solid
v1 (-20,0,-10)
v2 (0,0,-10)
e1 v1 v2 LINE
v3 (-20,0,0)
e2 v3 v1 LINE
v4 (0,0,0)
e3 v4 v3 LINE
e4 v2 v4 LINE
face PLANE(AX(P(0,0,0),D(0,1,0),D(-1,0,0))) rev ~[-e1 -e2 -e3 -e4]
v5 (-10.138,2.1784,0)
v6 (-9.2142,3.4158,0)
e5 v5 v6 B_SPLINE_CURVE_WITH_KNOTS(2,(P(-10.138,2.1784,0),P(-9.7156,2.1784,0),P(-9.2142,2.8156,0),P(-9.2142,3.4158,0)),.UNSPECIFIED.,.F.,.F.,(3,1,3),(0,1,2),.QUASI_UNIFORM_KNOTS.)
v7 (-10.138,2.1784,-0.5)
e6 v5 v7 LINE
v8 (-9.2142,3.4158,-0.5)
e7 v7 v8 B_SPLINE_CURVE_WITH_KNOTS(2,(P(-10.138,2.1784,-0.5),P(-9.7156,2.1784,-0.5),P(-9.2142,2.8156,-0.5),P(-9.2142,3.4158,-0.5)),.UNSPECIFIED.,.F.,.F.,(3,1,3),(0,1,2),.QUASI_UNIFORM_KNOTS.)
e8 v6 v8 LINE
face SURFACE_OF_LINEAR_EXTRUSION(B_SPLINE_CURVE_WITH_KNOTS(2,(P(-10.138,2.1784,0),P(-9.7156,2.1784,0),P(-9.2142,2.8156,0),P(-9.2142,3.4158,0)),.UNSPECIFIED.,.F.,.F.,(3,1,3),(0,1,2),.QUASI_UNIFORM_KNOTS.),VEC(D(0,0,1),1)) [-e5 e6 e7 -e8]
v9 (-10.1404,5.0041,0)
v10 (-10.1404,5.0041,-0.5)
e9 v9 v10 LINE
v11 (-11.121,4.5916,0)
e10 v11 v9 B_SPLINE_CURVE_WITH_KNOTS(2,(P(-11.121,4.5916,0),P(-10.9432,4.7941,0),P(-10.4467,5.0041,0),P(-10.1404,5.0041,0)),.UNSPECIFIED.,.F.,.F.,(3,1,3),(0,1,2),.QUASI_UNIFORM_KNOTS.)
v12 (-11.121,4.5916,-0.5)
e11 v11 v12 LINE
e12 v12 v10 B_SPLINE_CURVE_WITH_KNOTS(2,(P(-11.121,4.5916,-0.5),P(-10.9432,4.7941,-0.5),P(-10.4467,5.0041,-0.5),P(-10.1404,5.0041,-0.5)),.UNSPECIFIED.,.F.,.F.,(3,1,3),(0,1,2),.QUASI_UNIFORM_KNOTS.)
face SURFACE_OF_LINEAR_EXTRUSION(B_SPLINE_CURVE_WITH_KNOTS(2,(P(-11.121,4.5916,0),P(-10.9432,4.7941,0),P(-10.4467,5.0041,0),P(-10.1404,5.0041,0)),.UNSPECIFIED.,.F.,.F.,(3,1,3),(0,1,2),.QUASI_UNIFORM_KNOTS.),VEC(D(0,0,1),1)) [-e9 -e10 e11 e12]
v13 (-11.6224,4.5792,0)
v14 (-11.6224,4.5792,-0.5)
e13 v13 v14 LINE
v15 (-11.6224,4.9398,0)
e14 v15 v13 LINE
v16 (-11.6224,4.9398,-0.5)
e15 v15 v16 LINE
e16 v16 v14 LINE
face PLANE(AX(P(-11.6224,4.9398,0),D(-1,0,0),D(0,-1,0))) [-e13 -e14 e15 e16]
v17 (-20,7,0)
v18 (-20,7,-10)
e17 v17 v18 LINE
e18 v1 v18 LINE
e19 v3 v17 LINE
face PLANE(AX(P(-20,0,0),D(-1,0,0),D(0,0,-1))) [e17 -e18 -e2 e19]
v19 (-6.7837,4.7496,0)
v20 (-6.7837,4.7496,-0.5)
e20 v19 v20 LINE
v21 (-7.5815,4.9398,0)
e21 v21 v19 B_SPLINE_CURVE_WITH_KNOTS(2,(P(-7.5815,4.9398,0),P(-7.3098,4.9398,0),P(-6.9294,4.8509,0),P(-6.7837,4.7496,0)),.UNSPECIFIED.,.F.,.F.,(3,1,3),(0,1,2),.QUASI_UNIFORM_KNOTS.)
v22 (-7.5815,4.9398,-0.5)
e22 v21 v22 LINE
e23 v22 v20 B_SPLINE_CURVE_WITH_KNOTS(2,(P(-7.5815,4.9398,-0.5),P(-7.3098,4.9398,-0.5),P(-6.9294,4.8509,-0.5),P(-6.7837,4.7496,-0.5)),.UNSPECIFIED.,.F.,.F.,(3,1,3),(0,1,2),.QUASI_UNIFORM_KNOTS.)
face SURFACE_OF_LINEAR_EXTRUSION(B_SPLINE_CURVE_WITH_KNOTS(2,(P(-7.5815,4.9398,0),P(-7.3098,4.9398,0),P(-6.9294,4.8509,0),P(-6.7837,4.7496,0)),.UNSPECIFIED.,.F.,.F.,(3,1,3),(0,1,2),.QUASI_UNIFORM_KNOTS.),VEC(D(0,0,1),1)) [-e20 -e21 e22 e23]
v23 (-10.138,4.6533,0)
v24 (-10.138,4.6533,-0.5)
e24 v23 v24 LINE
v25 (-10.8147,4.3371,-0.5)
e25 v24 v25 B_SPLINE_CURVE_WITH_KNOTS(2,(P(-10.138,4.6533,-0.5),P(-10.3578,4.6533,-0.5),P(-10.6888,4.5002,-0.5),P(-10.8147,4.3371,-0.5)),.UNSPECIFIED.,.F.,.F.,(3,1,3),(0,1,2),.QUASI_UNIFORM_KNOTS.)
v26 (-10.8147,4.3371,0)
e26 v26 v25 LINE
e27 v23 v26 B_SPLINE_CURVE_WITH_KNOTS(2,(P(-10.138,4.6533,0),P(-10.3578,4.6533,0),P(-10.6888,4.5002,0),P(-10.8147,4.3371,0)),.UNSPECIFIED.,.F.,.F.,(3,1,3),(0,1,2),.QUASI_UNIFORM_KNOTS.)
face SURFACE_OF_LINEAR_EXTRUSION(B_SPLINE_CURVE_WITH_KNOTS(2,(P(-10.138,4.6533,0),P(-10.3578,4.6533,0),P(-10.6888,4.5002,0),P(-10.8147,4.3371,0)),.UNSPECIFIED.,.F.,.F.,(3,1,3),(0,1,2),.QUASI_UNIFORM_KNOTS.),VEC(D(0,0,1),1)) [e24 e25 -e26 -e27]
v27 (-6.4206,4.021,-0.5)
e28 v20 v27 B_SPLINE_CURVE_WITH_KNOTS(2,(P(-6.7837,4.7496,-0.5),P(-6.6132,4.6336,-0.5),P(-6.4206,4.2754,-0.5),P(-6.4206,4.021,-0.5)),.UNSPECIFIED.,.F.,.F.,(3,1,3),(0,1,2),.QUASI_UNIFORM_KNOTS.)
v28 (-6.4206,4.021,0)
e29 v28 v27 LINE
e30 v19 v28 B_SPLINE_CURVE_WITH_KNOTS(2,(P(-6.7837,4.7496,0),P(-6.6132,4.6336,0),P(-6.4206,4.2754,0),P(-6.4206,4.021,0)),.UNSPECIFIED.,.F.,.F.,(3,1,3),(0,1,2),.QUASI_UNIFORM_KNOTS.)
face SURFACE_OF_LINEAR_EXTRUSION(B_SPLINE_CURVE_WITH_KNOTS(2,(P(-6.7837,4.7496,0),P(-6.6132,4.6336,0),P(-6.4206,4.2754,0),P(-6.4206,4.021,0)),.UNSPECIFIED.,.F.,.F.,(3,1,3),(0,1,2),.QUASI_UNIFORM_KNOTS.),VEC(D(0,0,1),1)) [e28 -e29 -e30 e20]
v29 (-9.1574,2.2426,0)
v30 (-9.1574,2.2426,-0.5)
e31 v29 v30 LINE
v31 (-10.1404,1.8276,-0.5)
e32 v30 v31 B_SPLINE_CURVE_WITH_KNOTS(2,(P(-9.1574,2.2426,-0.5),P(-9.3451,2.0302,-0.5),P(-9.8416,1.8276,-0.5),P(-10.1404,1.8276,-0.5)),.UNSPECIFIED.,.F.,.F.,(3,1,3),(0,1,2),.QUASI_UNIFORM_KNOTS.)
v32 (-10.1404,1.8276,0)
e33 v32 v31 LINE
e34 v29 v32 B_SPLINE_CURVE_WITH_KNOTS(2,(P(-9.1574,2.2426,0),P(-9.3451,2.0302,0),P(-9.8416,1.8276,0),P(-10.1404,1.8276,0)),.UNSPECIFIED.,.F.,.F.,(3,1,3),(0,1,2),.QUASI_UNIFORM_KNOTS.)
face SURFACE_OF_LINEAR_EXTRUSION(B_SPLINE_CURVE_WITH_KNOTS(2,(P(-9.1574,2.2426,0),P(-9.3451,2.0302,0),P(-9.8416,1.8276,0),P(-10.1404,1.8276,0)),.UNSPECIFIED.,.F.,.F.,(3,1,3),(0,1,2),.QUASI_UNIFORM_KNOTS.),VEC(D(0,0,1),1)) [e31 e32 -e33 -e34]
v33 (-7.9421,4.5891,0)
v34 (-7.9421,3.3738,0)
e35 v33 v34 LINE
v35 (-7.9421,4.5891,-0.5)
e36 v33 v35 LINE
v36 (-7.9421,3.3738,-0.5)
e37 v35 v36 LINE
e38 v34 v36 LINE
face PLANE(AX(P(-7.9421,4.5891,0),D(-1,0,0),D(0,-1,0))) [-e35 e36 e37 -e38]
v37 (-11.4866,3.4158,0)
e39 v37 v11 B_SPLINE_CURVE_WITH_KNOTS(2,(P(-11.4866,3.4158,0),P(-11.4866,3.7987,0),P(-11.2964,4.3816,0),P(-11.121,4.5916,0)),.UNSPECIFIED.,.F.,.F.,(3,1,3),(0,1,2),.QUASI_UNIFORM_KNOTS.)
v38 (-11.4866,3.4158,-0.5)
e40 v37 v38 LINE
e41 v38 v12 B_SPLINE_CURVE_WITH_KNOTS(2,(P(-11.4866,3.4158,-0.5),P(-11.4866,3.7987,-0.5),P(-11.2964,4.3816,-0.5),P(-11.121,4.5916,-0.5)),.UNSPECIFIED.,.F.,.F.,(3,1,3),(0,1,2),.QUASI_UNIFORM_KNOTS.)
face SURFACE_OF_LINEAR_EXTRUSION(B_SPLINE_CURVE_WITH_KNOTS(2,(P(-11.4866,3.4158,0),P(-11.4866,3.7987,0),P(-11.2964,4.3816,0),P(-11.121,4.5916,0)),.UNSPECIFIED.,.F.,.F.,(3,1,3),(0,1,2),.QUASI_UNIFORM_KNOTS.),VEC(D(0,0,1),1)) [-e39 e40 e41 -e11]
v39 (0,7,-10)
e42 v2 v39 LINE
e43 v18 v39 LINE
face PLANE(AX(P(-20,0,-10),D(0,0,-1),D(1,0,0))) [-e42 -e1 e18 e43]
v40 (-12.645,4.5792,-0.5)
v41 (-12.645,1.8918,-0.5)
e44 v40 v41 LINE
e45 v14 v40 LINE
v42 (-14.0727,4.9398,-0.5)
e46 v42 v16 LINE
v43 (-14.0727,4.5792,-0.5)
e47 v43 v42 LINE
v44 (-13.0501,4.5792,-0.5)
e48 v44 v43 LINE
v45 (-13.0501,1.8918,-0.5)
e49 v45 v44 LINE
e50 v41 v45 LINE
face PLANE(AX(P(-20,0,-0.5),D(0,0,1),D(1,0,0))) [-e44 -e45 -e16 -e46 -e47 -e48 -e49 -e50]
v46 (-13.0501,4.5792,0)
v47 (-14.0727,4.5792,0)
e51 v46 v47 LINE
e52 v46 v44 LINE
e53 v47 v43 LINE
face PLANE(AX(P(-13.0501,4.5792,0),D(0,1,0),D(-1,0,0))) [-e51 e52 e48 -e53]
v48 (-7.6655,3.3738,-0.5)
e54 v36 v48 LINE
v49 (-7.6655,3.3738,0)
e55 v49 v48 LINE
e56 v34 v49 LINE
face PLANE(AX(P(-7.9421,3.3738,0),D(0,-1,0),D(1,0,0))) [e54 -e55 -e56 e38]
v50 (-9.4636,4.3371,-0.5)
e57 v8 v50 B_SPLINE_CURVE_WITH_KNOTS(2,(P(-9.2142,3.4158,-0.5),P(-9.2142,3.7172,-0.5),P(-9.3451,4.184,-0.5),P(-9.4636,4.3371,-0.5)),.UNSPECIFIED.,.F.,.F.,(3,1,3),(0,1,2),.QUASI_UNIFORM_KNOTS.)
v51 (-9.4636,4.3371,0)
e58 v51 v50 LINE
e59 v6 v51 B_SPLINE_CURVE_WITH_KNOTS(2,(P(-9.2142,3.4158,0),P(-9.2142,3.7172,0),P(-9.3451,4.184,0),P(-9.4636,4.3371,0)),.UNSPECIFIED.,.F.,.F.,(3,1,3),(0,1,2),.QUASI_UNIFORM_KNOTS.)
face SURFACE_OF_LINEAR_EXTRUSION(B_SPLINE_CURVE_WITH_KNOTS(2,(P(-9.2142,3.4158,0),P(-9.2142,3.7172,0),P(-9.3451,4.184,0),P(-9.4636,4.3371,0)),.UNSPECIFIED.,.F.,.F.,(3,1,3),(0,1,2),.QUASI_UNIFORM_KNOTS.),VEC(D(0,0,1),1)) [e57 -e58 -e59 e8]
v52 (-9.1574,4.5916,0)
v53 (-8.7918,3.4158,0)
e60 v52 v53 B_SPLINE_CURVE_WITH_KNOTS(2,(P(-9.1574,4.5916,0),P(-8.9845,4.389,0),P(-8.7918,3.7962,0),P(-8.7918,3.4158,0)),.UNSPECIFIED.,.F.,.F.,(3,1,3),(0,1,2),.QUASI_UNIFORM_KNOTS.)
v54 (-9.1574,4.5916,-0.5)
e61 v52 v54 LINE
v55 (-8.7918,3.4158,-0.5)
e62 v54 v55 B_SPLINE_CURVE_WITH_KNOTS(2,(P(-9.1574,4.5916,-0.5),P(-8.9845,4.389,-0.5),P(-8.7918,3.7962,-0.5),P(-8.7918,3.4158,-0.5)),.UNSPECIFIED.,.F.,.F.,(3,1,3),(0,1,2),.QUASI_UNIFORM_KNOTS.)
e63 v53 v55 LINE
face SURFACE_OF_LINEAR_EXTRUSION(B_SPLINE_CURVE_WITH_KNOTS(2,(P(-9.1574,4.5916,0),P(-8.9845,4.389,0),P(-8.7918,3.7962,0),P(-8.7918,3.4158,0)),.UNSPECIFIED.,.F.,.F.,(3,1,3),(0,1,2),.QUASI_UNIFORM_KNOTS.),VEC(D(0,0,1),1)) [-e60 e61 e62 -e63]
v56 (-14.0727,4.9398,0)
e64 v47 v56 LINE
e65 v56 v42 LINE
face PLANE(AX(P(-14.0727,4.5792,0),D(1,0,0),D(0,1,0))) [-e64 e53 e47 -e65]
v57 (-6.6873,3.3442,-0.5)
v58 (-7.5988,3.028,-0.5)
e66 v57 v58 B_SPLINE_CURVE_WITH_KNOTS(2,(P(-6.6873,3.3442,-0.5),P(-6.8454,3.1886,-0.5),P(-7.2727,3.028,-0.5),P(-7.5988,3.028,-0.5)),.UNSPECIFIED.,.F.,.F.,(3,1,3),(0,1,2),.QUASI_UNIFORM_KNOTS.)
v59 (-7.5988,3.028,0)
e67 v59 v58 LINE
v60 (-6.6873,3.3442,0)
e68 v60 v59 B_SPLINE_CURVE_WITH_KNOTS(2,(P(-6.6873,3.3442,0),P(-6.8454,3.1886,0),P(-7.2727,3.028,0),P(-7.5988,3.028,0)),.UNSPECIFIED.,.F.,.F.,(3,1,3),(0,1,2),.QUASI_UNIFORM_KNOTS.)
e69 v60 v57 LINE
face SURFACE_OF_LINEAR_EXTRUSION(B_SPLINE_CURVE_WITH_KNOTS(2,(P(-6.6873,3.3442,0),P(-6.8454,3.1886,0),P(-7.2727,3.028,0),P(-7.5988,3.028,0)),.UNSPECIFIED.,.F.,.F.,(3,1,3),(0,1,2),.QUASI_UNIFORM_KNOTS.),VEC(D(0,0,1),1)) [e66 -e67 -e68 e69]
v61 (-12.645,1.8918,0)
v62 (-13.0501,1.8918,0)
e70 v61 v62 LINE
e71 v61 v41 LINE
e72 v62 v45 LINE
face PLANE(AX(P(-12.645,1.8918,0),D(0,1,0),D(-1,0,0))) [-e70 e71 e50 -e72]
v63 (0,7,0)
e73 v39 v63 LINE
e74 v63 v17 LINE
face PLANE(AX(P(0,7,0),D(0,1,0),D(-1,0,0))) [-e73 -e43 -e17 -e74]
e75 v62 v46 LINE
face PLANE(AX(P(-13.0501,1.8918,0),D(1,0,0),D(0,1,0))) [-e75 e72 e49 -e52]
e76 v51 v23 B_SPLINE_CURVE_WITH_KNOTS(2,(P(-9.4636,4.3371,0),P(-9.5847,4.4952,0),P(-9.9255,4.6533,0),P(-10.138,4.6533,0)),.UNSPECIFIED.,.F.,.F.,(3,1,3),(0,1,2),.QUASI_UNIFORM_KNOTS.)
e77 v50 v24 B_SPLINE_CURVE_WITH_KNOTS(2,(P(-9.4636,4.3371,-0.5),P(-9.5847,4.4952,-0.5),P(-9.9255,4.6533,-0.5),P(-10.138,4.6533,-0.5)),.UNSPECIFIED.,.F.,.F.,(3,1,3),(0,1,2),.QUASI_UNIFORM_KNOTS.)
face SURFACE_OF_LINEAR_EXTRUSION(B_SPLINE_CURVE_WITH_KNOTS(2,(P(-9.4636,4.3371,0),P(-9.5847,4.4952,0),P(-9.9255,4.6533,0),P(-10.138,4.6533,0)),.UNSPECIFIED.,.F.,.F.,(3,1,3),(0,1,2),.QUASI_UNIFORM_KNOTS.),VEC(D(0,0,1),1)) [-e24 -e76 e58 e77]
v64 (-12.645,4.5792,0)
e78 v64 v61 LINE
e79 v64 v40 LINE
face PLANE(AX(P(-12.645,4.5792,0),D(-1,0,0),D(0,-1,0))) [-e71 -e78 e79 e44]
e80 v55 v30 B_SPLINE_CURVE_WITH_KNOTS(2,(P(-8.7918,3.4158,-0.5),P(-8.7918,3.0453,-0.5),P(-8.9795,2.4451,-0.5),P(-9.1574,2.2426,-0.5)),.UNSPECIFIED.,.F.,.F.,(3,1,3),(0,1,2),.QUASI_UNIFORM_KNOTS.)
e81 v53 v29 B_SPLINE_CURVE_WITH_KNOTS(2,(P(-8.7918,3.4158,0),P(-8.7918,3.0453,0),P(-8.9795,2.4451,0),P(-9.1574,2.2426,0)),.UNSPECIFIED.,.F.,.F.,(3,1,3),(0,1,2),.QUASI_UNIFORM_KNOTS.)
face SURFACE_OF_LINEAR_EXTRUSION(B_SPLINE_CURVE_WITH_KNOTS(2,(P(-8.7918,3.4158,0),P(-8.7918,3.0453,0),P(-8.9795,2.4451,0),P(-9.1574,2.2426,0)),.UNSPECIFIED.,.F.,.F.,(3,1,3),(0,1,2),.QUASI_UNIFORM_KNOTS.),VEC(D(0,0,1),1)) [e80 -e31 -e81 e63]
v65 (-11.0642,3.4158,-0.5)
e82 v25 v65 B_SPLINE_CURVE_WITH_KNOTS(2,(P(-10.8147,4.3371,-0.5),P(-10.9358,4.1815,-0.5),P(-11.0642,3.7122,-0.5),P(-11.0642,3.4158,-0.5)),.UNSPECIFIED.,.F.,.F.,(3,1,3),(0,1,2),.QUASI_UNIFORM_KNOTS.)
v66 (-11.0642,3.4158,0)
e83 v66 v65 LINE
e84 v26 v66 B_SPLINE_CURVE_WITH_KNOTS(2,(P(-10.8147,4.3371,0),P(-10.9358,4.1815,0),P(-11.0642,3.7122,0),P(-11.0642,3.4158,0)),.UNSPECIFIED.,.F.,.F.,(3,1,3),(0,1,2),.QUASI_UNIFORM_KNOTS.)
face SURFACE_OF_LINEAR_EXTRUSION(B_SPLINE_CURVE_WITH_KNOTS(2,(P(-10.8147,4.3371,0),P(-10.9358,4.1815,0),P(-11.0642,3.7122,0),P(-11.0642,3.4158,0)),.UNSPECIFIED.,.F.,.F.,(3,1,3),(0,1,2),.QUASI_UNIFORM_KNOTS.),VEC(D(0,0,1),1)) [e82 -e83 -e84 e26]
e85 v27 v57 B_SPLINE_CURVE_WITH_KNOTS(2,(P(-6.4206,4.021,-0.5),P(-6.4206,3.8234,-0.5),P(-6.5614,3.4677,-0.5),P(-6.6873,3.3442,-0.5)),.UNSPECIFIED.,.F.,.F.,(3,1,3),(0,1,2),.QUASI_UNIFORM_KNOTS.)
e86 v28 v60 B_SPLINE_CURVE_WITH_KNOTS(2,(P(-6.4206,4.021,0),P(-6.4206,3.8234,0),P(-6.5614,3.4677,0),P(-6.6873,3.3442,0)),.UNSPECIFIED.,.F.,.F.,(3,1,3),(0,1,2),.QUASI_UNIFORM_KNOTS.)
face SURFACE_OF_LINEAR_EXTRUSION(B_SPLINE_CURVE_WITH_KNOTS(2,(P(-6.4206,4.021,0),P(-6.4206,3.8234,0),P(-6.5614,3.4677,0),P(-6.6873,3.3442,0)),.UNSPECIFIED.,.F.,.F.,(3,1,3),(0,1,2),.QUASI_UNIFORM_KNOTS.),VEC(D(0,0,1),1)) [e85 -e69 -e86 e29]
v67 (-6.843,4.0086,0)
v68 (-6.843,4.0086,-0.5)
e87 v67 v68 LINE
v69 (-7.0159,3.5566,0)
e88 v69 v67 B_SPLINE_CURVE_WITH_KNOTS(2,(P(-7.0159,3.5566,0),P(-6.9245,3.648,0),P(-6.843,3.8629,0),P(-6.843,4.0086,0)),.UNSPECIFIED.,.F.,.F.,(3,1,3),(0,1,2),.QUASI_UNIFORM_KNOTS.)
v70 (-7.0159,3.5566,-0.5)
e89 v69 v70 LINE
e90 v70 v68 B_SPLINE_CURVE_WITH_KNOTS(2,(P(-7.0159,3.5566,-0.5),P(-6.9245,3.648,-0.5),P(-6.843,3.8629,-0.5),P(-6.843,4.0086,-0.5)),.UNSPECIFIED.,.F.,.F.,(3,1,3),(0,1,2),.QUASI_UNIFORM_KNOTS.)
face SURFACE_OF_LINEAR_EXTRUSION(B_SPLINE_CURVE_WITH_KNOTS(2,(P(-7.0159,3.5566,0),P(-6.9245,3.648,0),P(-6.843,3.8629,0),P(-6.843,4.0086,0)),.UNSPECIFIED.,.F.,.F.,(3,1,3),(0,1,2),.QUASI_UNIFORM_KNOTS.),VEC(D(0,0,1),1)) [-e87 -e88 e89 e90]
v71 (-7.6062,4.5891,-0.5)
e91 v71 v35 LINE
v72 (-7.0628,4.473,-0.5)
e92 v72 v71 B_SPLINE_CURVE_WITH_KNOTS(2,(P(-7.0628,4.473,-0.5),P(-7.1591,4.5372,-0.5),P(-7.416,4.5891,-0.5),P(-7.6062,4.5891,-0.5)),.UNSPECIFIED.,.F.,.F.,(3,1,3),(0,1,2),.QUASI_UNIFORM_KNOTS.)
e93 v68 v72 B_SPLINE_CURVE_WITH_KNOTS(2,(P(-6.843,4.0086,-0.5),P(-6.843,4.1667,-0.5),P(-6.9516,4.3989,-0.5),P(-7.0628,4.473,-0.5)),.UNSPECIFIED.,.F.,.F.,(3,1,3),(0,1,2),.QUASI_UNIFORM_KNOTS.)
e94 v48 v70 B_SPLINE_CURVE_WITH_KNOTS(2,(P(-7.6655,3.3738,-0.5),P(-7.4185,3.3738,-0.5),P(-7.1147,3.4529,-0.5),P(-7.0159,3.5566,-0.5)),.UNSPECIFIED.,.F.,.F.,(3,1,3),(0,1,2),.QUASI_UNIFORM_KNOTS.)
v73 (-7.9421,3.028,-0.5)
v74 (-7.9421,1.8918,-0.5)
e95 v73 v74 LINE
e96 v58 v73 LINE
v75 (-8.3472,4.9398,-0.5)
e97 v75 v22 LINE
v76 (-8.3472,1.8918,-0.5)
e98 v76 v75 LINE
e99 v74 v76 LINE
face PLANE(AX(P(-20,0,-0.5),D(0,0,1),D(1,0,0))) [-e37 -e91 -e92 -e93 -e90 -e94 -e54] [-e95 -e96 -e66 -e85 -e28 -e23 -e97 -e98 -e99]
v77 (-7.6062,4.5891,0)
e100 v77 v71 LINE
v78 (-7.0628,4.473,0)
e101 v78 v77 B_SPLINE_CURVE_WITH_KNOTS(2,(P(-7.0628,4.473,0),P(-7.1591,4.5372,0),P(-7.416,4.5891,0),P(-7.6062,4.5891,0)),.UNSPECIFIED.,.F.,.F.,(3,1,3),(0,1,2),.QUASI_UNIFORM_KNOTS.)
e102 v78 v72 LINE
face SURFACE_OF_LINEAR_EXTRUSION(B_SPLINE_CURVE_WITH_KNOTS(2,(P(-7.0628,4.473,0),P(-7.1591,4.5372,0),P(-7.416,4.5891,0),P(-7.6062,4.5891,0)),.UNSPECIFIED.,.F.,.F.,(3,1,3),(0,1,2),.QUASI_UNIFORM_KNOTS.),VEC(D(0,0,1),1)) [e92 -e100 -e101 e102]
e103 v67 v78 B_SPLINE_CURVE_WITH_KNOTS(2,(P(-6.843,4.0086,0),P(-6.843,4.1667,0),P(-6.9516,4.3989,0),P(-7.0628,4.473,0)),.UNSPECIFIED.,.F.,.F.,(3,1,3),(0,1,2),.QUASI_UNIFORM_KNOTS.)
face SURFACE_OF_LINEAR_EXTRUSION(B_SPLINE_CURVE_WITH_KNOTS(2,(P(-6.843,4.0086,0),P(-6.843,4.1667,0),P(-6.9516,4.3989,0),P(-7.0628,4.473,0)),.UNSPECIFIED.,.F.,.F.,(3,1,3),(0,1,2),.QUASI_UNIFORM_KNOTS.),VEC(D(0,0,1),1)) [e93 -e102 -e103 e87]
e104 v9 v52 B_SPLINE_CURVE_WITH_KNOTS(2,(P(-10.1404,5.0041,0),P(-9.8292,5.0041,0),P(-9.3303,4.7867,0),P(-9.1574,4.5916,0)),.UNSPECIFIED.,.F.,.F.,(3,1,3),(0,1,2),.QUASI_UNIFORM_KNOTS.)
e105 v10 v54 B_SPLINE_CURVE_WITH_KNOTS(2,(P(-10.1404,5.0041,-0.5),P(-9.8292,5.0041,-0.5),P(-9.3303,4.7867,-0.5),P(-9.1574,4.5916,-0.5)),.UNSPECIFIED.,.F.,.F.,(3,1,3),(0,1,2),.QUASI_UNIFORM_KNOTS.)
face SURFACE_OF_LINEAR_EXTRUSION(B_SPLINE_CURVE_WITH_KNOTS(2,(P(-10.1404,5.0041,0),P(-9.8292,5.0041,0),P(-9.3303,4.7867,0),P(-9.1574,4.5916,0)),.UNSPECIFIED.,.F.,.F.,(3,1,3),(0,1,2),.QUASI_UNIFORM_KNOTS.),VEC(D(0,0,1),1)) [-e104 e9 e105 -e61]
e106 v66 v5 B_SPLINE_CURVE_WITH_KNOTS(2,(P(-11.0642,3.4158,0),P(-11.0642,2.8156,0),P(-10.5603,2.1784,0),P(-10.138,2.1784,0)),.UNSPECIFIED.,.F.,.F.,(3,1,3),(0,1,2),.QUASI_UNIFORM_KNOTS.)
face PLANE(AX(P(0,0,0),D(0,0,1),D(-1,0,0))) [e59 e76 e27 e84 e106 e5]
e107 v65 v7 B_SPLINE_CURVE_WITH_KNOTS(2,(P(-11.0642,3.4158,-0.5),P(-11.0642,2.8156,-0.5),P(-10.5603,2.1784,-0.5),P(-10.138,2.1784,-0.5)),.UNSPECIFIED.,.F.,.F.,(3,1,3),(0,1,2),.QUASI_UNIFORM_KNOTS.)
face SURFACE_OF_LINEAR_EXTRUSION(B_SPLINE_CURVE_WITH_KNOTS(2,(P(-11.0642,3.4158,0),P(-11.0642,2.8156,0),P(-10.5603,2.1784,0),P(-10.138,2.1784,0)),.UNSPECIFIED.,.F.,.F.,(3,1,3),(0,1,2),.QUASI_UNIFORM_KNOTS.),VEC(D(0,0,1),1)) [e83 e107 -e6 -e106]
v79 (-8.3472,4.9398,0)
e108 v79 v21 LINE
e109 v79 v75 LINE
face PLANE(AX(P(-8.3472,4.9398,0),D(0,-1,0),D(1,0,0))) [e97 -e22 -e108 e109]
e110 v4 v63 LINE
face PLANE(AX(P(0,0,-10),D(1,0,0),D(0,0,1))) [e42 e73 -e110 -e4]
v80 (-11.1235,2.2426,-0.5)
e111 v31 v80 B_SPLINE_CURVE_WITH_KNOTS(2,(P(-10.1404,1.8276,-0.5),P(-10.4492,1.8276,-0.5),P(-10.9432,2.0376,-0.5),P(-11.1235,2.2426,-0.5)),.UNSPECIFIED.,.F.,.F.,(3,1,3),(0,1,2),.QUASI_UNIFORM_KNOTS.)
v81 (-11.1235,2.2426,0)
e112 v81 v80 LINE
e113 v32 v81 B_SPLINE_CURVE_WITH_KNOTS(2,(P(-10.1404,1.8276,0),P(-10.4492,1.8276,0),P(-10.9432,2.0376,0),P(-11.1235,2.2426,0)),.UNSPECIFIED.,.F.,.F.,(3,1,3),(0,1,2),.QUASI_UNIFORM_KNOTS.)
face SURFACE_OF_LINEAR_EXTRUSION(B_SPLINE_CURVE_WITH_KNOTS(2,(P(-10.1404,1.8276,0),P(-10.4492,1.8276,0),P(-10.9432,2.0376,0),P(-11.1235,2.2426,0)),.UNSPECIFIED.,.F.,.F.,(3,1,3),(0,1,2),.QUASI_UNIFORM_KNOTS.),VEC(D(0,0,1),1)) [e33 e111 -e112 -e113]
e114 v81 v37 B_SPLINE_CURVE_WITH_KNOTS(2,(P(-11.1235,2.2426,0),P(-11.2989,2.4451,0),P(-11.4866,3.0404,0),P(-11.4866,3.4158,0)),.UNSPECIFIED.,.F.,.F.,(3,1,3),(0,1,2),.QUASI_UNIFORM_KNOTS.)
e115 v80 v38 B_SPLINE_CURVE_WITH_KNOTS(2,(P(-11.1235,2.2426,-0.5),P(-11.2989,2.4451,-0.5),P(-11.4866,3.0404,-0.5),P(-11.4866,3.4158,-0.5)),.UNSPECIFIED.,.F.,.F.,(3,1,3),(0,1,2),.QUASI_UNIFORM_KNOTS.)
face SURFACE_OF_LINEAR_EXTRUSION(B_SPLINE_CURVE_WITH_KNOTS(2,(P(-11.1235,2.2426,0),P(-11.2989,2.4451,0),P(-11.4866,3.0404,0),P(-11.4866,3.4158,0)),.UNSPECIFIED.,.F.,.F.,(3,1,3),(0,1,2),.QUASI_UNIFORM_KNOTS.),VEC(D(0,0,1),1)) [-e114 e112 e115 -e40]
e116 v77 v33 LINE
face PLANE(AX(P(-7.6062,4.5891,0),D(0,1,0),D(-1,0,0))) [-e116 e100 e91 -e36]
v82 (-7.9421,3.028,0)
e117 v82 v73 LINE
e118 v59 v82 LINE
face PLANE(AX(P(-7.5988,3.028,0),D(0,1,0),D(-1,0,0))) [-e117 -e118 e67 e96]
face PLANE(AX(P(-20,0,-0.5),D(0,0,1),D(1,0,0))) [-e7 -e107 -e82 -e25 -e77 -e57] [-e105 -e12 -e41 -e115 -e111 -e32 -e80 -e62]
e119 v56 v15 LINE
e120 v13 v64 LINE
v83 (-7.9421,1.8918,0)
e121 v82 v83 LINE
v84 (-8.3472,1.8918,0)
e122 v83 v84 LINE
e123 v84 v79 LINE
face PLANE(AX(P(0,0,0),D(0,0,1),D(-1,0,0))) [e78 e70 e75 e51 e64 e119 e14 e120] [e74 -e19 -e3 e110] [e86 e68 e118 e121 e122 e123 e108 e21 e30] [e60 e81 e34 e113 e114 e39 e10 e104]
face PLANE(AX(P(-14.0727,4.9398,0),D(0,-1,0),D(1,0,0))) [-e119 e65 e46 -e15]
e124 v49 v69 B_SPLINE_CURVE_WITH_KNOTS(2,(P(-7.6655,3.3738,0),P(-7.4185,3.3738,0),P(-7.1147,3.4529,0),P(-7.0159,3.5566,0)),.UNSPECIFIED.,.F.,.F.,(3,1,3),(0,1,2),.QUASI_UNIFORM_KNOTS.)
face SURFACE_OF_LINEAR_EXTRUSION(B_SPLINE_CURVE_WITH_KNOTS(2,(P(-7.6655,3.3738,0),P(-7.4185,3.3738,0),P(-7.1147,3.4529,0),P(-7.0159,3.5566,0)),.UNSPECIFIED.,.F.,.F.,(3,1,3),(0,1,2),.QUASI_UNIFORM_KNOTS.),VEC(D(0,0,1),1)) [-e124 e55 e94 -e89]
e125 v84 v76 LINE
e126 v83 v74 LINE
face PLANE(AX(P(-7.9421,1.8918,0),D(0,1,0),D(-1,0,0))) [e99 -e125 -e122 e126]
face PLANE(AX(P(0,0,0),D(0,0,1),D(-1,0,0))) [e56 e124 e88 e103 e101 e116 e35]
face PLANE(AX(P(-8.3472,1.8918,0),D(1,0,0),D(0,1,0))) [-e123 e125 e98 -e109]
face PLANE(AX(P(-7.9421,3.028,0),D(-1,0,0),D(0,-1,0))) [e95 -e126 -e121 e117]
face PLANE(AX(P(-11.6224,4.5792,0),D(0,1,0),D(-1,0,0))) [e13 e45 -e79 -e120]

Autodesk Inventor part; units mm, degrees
ref_plane "YZ Plane" through (0, 0, 0) normal (1, 0, 0) x (0, 1, 0)
ref_plane "XZ Plane" through (0, 0, 0) normal (0, 1, 0) x (-1, 0, 0)
ref_plane "XY Plane" through (0, 0, 0) normal (0, 0, 1) x (1, 0, 0)
sketch "Sketch1" plane through (0, 0, 0) normal (0, 1, 0) x (-1, 0, 0)
  line L0 (0, 0) -> (20, 0)
  line L1 (20, 0) -> (20, -10)
  line L2 (20, -10) -> (0, -10)
  line L3 (0, -10) -> (0, 0)
  dimension "d0" = 20
  dimension "d1" = 10
extrude "Extrusion1" add sketch "Sketch1" along normal blind 7
sketch "Sketch2" plane through (-20, 0, 0) normal (0, 0, 1) x (1, 0, 0)
  line L0 (5.9298, 5.0041) -> (16.3941, 5.0041) construction
  line L1 (16.3941, 5.0041) -> (16.3941, 1.9722) construction
  line L2 (16.3941, 1.9722) -> (5.9298, 1.9722) construction
  line L3 (5.9298, 1.9722) -> (5.9298, 5.0041) construction
  line L4 (6.9499, 1.8918) -> (6.9499, 4.5792)
  line L5 (6.9499, 4.5792) -> (5.9273, 4.5792)
  line L6 (5.9273, 4.5792) -> (5.9273, 4.9398)
  line L7 (5.9273, 4.9398) -> (8.3776, 4.9398)
  line L8 (8.3776, 4.9398) -> (8.3776, 4.5792)
  line L9 (8.3776, 4.5792) -> (7.355, 4.5792)
  line L10 (7.355, 4.5792) -> (7.355, 1.8918)
  line L11 (7.355, 1.8918) -> (6.9499, 1.8918)
  spline S0 degree 2 poles (10.8426, 4.5916) (11.0155, 4.389) (11.2082, 3.7962) (11.2082, 3.4158) knots 0 0 0 1 2 2 2
  spline S1 degree 2 poles (11.2082, 3.4158) (11.2082, 3.0453) (11.0205, 2.4451) (10.8426, 2.2426) knots 0 0 0 1 2 2 2
  spline S2 degree 2 poles (10.8426, 2.2426) (10.6549, 2.0302) (10.1584, 1.8276) (9.8596, 1.8276) knots 0 0 0 1 2 2 2
  spline S3 degree 2 poles (9.8596, 1.8276) (9.5508, 1.8276) (9.0568, 2.0376) (8.8765, 2.2426) knots 0 0 0 1 2 2 2
  spline S4 degree 2 poles (8.8765, 2.2426) (8.7011, 2.4451) (8.5134, 3.0404) (8.5134, 3.4158) knots 0 0 0 1 2 2 2
  spline S5 degree 2 poles (8.5134, 3.4158) (8.5134, 3.7987) (8.7036, 4.3816) (8.879, 4.5916) knots 0 0 0 1 2 2 2
  spline S6 degree 2 poles (8.879, 4.5916) (9.0568, 4.7941) (9.5533, 5.0041) (9.8596, 5.0041) knots 0 0 0 1 2 2 2
  spline S7 degree 2 poles (9.8596, 5.0041) (10.1708, 5.0041) (10.6697, 4.7867) (10.8426, 4.5916) knots 0 0 0 1 2 2 2
  spline S8 degree 2 poles (10.7858, 3.4158) (10.7858, 3.7172) (10.6549, 4.184) (10.5364, 4.3371) knots 0 0 0 1 2 2 2
  spline S9 degree 2 poles (10.5364, 4.3371) (10.4153, 4.4952) (10.0745, 4.6533) (9.862, 4.6533) knots 0 0 0 1 2 2 2
  spline S10 degree 2 poles (9.862, 4.6533) (9.6422, 4.6533) (9.3112, 4.5002) (9.1853, 4.3371) knots 0 0 0 1 2 2 2
  spline S11 degree 2 poles (9.1853, 4.3371) (9.0642, 4.1815) (8.9358, 3.7122) (8.9358, 3.4158) knots 0 0 0 1 2 2 2
  spline S12 degree 2 poles (8.9358, 3.4158) (8.9358, 2.8156) (9.4397, 2.1784) (9.862, 2.1784) knots 0 0 0 1 2 2 2
  spline S13 degree 2 poles (9.862, 2.1784) (10.2844, 2.1784) (10.7858, 2.8156) (10.7858, 3.4158) knots 0 0 0 1 2 2 2
  spline S14 degree 2 poles (13.5794, 4.021) (13.5794, 3.8234) (13.4386, 3.4677) (13.3127, 3.3442) knots 0 0 0 1 2 2 2
  spline S15 degree 2 poles (13.3127, 3.3442) (13.1546, 3.1886) (12.7273, 3.028) (12.4012, 3.028) knots 0 0 0 1 2 2 2
  line L12 (12.4012, 3.028) -> (12.0579, 3.028)
  line L13 (12.0579, 3.028) -> (12.0579, 1.8918)
  line L14 (12.0579, 1.8918) -> (11.6528, 1.8918)
  line L15 (11.6528, 1.8918) -> (11.6528, 4.9398)
  line L16 (11.6528, 4.9398) -> (12.4185, 4.9398)
  spline S16 degree 2 poles (12.4185, 4.9398) (12.6902, 4.9398) (13.0706, 4.8509) (13.2163, 4.7496) knots 0 0 0 1 2 2 2
  spline S17 degree 2 poles (13.2163, 4.7496) (13.3868, 4.6336) (13.5794, 4.2754) (13.5794, 4.021) knots 0 0 0 1 2 2 2
  spline S18 degree 2 poles (13.157, 4.0086) (13.157, 4.1667) (13.0484, 4.3989) (12.9372, 4.473) knots 0 0 0 1 2 2 2
  spline S19 degree 2 poles (12.9372, 4.473) (12.8409, 4.5372) (12.584, 4.5891) (12.3938, 4.5891) knots 0 0 0 1 2 2 2
  line L17 (12.3938, 4.5891) -> (12.0579, 4.5891)
  line L18 (12.0579, 4.5891) -> (12.0579, 3.3738)
  line L19 (12.0579, 3.3738) -> (12.3345, 3.3738)
  spline S20 degree 2 poles (12.3345, 3.3738) (12.5815, 3.3738) (12.8853, 3.4529) (12.9841, 3.5566) knots 0 0 0 1 2 2 2
  spline S21 degree 2 poles (12.9841, 3.5566) (13.0755, 3.648) (13.157, 3.8629) (13.157, 4.0086) knots 0 0 0 1 2 2 2
  point P0 (20, 0)
extrude "Extrusion3" cut sketch "Sketch2" against normal blind 0.5
properties part number "cable_jig_sevenmm_shim"
